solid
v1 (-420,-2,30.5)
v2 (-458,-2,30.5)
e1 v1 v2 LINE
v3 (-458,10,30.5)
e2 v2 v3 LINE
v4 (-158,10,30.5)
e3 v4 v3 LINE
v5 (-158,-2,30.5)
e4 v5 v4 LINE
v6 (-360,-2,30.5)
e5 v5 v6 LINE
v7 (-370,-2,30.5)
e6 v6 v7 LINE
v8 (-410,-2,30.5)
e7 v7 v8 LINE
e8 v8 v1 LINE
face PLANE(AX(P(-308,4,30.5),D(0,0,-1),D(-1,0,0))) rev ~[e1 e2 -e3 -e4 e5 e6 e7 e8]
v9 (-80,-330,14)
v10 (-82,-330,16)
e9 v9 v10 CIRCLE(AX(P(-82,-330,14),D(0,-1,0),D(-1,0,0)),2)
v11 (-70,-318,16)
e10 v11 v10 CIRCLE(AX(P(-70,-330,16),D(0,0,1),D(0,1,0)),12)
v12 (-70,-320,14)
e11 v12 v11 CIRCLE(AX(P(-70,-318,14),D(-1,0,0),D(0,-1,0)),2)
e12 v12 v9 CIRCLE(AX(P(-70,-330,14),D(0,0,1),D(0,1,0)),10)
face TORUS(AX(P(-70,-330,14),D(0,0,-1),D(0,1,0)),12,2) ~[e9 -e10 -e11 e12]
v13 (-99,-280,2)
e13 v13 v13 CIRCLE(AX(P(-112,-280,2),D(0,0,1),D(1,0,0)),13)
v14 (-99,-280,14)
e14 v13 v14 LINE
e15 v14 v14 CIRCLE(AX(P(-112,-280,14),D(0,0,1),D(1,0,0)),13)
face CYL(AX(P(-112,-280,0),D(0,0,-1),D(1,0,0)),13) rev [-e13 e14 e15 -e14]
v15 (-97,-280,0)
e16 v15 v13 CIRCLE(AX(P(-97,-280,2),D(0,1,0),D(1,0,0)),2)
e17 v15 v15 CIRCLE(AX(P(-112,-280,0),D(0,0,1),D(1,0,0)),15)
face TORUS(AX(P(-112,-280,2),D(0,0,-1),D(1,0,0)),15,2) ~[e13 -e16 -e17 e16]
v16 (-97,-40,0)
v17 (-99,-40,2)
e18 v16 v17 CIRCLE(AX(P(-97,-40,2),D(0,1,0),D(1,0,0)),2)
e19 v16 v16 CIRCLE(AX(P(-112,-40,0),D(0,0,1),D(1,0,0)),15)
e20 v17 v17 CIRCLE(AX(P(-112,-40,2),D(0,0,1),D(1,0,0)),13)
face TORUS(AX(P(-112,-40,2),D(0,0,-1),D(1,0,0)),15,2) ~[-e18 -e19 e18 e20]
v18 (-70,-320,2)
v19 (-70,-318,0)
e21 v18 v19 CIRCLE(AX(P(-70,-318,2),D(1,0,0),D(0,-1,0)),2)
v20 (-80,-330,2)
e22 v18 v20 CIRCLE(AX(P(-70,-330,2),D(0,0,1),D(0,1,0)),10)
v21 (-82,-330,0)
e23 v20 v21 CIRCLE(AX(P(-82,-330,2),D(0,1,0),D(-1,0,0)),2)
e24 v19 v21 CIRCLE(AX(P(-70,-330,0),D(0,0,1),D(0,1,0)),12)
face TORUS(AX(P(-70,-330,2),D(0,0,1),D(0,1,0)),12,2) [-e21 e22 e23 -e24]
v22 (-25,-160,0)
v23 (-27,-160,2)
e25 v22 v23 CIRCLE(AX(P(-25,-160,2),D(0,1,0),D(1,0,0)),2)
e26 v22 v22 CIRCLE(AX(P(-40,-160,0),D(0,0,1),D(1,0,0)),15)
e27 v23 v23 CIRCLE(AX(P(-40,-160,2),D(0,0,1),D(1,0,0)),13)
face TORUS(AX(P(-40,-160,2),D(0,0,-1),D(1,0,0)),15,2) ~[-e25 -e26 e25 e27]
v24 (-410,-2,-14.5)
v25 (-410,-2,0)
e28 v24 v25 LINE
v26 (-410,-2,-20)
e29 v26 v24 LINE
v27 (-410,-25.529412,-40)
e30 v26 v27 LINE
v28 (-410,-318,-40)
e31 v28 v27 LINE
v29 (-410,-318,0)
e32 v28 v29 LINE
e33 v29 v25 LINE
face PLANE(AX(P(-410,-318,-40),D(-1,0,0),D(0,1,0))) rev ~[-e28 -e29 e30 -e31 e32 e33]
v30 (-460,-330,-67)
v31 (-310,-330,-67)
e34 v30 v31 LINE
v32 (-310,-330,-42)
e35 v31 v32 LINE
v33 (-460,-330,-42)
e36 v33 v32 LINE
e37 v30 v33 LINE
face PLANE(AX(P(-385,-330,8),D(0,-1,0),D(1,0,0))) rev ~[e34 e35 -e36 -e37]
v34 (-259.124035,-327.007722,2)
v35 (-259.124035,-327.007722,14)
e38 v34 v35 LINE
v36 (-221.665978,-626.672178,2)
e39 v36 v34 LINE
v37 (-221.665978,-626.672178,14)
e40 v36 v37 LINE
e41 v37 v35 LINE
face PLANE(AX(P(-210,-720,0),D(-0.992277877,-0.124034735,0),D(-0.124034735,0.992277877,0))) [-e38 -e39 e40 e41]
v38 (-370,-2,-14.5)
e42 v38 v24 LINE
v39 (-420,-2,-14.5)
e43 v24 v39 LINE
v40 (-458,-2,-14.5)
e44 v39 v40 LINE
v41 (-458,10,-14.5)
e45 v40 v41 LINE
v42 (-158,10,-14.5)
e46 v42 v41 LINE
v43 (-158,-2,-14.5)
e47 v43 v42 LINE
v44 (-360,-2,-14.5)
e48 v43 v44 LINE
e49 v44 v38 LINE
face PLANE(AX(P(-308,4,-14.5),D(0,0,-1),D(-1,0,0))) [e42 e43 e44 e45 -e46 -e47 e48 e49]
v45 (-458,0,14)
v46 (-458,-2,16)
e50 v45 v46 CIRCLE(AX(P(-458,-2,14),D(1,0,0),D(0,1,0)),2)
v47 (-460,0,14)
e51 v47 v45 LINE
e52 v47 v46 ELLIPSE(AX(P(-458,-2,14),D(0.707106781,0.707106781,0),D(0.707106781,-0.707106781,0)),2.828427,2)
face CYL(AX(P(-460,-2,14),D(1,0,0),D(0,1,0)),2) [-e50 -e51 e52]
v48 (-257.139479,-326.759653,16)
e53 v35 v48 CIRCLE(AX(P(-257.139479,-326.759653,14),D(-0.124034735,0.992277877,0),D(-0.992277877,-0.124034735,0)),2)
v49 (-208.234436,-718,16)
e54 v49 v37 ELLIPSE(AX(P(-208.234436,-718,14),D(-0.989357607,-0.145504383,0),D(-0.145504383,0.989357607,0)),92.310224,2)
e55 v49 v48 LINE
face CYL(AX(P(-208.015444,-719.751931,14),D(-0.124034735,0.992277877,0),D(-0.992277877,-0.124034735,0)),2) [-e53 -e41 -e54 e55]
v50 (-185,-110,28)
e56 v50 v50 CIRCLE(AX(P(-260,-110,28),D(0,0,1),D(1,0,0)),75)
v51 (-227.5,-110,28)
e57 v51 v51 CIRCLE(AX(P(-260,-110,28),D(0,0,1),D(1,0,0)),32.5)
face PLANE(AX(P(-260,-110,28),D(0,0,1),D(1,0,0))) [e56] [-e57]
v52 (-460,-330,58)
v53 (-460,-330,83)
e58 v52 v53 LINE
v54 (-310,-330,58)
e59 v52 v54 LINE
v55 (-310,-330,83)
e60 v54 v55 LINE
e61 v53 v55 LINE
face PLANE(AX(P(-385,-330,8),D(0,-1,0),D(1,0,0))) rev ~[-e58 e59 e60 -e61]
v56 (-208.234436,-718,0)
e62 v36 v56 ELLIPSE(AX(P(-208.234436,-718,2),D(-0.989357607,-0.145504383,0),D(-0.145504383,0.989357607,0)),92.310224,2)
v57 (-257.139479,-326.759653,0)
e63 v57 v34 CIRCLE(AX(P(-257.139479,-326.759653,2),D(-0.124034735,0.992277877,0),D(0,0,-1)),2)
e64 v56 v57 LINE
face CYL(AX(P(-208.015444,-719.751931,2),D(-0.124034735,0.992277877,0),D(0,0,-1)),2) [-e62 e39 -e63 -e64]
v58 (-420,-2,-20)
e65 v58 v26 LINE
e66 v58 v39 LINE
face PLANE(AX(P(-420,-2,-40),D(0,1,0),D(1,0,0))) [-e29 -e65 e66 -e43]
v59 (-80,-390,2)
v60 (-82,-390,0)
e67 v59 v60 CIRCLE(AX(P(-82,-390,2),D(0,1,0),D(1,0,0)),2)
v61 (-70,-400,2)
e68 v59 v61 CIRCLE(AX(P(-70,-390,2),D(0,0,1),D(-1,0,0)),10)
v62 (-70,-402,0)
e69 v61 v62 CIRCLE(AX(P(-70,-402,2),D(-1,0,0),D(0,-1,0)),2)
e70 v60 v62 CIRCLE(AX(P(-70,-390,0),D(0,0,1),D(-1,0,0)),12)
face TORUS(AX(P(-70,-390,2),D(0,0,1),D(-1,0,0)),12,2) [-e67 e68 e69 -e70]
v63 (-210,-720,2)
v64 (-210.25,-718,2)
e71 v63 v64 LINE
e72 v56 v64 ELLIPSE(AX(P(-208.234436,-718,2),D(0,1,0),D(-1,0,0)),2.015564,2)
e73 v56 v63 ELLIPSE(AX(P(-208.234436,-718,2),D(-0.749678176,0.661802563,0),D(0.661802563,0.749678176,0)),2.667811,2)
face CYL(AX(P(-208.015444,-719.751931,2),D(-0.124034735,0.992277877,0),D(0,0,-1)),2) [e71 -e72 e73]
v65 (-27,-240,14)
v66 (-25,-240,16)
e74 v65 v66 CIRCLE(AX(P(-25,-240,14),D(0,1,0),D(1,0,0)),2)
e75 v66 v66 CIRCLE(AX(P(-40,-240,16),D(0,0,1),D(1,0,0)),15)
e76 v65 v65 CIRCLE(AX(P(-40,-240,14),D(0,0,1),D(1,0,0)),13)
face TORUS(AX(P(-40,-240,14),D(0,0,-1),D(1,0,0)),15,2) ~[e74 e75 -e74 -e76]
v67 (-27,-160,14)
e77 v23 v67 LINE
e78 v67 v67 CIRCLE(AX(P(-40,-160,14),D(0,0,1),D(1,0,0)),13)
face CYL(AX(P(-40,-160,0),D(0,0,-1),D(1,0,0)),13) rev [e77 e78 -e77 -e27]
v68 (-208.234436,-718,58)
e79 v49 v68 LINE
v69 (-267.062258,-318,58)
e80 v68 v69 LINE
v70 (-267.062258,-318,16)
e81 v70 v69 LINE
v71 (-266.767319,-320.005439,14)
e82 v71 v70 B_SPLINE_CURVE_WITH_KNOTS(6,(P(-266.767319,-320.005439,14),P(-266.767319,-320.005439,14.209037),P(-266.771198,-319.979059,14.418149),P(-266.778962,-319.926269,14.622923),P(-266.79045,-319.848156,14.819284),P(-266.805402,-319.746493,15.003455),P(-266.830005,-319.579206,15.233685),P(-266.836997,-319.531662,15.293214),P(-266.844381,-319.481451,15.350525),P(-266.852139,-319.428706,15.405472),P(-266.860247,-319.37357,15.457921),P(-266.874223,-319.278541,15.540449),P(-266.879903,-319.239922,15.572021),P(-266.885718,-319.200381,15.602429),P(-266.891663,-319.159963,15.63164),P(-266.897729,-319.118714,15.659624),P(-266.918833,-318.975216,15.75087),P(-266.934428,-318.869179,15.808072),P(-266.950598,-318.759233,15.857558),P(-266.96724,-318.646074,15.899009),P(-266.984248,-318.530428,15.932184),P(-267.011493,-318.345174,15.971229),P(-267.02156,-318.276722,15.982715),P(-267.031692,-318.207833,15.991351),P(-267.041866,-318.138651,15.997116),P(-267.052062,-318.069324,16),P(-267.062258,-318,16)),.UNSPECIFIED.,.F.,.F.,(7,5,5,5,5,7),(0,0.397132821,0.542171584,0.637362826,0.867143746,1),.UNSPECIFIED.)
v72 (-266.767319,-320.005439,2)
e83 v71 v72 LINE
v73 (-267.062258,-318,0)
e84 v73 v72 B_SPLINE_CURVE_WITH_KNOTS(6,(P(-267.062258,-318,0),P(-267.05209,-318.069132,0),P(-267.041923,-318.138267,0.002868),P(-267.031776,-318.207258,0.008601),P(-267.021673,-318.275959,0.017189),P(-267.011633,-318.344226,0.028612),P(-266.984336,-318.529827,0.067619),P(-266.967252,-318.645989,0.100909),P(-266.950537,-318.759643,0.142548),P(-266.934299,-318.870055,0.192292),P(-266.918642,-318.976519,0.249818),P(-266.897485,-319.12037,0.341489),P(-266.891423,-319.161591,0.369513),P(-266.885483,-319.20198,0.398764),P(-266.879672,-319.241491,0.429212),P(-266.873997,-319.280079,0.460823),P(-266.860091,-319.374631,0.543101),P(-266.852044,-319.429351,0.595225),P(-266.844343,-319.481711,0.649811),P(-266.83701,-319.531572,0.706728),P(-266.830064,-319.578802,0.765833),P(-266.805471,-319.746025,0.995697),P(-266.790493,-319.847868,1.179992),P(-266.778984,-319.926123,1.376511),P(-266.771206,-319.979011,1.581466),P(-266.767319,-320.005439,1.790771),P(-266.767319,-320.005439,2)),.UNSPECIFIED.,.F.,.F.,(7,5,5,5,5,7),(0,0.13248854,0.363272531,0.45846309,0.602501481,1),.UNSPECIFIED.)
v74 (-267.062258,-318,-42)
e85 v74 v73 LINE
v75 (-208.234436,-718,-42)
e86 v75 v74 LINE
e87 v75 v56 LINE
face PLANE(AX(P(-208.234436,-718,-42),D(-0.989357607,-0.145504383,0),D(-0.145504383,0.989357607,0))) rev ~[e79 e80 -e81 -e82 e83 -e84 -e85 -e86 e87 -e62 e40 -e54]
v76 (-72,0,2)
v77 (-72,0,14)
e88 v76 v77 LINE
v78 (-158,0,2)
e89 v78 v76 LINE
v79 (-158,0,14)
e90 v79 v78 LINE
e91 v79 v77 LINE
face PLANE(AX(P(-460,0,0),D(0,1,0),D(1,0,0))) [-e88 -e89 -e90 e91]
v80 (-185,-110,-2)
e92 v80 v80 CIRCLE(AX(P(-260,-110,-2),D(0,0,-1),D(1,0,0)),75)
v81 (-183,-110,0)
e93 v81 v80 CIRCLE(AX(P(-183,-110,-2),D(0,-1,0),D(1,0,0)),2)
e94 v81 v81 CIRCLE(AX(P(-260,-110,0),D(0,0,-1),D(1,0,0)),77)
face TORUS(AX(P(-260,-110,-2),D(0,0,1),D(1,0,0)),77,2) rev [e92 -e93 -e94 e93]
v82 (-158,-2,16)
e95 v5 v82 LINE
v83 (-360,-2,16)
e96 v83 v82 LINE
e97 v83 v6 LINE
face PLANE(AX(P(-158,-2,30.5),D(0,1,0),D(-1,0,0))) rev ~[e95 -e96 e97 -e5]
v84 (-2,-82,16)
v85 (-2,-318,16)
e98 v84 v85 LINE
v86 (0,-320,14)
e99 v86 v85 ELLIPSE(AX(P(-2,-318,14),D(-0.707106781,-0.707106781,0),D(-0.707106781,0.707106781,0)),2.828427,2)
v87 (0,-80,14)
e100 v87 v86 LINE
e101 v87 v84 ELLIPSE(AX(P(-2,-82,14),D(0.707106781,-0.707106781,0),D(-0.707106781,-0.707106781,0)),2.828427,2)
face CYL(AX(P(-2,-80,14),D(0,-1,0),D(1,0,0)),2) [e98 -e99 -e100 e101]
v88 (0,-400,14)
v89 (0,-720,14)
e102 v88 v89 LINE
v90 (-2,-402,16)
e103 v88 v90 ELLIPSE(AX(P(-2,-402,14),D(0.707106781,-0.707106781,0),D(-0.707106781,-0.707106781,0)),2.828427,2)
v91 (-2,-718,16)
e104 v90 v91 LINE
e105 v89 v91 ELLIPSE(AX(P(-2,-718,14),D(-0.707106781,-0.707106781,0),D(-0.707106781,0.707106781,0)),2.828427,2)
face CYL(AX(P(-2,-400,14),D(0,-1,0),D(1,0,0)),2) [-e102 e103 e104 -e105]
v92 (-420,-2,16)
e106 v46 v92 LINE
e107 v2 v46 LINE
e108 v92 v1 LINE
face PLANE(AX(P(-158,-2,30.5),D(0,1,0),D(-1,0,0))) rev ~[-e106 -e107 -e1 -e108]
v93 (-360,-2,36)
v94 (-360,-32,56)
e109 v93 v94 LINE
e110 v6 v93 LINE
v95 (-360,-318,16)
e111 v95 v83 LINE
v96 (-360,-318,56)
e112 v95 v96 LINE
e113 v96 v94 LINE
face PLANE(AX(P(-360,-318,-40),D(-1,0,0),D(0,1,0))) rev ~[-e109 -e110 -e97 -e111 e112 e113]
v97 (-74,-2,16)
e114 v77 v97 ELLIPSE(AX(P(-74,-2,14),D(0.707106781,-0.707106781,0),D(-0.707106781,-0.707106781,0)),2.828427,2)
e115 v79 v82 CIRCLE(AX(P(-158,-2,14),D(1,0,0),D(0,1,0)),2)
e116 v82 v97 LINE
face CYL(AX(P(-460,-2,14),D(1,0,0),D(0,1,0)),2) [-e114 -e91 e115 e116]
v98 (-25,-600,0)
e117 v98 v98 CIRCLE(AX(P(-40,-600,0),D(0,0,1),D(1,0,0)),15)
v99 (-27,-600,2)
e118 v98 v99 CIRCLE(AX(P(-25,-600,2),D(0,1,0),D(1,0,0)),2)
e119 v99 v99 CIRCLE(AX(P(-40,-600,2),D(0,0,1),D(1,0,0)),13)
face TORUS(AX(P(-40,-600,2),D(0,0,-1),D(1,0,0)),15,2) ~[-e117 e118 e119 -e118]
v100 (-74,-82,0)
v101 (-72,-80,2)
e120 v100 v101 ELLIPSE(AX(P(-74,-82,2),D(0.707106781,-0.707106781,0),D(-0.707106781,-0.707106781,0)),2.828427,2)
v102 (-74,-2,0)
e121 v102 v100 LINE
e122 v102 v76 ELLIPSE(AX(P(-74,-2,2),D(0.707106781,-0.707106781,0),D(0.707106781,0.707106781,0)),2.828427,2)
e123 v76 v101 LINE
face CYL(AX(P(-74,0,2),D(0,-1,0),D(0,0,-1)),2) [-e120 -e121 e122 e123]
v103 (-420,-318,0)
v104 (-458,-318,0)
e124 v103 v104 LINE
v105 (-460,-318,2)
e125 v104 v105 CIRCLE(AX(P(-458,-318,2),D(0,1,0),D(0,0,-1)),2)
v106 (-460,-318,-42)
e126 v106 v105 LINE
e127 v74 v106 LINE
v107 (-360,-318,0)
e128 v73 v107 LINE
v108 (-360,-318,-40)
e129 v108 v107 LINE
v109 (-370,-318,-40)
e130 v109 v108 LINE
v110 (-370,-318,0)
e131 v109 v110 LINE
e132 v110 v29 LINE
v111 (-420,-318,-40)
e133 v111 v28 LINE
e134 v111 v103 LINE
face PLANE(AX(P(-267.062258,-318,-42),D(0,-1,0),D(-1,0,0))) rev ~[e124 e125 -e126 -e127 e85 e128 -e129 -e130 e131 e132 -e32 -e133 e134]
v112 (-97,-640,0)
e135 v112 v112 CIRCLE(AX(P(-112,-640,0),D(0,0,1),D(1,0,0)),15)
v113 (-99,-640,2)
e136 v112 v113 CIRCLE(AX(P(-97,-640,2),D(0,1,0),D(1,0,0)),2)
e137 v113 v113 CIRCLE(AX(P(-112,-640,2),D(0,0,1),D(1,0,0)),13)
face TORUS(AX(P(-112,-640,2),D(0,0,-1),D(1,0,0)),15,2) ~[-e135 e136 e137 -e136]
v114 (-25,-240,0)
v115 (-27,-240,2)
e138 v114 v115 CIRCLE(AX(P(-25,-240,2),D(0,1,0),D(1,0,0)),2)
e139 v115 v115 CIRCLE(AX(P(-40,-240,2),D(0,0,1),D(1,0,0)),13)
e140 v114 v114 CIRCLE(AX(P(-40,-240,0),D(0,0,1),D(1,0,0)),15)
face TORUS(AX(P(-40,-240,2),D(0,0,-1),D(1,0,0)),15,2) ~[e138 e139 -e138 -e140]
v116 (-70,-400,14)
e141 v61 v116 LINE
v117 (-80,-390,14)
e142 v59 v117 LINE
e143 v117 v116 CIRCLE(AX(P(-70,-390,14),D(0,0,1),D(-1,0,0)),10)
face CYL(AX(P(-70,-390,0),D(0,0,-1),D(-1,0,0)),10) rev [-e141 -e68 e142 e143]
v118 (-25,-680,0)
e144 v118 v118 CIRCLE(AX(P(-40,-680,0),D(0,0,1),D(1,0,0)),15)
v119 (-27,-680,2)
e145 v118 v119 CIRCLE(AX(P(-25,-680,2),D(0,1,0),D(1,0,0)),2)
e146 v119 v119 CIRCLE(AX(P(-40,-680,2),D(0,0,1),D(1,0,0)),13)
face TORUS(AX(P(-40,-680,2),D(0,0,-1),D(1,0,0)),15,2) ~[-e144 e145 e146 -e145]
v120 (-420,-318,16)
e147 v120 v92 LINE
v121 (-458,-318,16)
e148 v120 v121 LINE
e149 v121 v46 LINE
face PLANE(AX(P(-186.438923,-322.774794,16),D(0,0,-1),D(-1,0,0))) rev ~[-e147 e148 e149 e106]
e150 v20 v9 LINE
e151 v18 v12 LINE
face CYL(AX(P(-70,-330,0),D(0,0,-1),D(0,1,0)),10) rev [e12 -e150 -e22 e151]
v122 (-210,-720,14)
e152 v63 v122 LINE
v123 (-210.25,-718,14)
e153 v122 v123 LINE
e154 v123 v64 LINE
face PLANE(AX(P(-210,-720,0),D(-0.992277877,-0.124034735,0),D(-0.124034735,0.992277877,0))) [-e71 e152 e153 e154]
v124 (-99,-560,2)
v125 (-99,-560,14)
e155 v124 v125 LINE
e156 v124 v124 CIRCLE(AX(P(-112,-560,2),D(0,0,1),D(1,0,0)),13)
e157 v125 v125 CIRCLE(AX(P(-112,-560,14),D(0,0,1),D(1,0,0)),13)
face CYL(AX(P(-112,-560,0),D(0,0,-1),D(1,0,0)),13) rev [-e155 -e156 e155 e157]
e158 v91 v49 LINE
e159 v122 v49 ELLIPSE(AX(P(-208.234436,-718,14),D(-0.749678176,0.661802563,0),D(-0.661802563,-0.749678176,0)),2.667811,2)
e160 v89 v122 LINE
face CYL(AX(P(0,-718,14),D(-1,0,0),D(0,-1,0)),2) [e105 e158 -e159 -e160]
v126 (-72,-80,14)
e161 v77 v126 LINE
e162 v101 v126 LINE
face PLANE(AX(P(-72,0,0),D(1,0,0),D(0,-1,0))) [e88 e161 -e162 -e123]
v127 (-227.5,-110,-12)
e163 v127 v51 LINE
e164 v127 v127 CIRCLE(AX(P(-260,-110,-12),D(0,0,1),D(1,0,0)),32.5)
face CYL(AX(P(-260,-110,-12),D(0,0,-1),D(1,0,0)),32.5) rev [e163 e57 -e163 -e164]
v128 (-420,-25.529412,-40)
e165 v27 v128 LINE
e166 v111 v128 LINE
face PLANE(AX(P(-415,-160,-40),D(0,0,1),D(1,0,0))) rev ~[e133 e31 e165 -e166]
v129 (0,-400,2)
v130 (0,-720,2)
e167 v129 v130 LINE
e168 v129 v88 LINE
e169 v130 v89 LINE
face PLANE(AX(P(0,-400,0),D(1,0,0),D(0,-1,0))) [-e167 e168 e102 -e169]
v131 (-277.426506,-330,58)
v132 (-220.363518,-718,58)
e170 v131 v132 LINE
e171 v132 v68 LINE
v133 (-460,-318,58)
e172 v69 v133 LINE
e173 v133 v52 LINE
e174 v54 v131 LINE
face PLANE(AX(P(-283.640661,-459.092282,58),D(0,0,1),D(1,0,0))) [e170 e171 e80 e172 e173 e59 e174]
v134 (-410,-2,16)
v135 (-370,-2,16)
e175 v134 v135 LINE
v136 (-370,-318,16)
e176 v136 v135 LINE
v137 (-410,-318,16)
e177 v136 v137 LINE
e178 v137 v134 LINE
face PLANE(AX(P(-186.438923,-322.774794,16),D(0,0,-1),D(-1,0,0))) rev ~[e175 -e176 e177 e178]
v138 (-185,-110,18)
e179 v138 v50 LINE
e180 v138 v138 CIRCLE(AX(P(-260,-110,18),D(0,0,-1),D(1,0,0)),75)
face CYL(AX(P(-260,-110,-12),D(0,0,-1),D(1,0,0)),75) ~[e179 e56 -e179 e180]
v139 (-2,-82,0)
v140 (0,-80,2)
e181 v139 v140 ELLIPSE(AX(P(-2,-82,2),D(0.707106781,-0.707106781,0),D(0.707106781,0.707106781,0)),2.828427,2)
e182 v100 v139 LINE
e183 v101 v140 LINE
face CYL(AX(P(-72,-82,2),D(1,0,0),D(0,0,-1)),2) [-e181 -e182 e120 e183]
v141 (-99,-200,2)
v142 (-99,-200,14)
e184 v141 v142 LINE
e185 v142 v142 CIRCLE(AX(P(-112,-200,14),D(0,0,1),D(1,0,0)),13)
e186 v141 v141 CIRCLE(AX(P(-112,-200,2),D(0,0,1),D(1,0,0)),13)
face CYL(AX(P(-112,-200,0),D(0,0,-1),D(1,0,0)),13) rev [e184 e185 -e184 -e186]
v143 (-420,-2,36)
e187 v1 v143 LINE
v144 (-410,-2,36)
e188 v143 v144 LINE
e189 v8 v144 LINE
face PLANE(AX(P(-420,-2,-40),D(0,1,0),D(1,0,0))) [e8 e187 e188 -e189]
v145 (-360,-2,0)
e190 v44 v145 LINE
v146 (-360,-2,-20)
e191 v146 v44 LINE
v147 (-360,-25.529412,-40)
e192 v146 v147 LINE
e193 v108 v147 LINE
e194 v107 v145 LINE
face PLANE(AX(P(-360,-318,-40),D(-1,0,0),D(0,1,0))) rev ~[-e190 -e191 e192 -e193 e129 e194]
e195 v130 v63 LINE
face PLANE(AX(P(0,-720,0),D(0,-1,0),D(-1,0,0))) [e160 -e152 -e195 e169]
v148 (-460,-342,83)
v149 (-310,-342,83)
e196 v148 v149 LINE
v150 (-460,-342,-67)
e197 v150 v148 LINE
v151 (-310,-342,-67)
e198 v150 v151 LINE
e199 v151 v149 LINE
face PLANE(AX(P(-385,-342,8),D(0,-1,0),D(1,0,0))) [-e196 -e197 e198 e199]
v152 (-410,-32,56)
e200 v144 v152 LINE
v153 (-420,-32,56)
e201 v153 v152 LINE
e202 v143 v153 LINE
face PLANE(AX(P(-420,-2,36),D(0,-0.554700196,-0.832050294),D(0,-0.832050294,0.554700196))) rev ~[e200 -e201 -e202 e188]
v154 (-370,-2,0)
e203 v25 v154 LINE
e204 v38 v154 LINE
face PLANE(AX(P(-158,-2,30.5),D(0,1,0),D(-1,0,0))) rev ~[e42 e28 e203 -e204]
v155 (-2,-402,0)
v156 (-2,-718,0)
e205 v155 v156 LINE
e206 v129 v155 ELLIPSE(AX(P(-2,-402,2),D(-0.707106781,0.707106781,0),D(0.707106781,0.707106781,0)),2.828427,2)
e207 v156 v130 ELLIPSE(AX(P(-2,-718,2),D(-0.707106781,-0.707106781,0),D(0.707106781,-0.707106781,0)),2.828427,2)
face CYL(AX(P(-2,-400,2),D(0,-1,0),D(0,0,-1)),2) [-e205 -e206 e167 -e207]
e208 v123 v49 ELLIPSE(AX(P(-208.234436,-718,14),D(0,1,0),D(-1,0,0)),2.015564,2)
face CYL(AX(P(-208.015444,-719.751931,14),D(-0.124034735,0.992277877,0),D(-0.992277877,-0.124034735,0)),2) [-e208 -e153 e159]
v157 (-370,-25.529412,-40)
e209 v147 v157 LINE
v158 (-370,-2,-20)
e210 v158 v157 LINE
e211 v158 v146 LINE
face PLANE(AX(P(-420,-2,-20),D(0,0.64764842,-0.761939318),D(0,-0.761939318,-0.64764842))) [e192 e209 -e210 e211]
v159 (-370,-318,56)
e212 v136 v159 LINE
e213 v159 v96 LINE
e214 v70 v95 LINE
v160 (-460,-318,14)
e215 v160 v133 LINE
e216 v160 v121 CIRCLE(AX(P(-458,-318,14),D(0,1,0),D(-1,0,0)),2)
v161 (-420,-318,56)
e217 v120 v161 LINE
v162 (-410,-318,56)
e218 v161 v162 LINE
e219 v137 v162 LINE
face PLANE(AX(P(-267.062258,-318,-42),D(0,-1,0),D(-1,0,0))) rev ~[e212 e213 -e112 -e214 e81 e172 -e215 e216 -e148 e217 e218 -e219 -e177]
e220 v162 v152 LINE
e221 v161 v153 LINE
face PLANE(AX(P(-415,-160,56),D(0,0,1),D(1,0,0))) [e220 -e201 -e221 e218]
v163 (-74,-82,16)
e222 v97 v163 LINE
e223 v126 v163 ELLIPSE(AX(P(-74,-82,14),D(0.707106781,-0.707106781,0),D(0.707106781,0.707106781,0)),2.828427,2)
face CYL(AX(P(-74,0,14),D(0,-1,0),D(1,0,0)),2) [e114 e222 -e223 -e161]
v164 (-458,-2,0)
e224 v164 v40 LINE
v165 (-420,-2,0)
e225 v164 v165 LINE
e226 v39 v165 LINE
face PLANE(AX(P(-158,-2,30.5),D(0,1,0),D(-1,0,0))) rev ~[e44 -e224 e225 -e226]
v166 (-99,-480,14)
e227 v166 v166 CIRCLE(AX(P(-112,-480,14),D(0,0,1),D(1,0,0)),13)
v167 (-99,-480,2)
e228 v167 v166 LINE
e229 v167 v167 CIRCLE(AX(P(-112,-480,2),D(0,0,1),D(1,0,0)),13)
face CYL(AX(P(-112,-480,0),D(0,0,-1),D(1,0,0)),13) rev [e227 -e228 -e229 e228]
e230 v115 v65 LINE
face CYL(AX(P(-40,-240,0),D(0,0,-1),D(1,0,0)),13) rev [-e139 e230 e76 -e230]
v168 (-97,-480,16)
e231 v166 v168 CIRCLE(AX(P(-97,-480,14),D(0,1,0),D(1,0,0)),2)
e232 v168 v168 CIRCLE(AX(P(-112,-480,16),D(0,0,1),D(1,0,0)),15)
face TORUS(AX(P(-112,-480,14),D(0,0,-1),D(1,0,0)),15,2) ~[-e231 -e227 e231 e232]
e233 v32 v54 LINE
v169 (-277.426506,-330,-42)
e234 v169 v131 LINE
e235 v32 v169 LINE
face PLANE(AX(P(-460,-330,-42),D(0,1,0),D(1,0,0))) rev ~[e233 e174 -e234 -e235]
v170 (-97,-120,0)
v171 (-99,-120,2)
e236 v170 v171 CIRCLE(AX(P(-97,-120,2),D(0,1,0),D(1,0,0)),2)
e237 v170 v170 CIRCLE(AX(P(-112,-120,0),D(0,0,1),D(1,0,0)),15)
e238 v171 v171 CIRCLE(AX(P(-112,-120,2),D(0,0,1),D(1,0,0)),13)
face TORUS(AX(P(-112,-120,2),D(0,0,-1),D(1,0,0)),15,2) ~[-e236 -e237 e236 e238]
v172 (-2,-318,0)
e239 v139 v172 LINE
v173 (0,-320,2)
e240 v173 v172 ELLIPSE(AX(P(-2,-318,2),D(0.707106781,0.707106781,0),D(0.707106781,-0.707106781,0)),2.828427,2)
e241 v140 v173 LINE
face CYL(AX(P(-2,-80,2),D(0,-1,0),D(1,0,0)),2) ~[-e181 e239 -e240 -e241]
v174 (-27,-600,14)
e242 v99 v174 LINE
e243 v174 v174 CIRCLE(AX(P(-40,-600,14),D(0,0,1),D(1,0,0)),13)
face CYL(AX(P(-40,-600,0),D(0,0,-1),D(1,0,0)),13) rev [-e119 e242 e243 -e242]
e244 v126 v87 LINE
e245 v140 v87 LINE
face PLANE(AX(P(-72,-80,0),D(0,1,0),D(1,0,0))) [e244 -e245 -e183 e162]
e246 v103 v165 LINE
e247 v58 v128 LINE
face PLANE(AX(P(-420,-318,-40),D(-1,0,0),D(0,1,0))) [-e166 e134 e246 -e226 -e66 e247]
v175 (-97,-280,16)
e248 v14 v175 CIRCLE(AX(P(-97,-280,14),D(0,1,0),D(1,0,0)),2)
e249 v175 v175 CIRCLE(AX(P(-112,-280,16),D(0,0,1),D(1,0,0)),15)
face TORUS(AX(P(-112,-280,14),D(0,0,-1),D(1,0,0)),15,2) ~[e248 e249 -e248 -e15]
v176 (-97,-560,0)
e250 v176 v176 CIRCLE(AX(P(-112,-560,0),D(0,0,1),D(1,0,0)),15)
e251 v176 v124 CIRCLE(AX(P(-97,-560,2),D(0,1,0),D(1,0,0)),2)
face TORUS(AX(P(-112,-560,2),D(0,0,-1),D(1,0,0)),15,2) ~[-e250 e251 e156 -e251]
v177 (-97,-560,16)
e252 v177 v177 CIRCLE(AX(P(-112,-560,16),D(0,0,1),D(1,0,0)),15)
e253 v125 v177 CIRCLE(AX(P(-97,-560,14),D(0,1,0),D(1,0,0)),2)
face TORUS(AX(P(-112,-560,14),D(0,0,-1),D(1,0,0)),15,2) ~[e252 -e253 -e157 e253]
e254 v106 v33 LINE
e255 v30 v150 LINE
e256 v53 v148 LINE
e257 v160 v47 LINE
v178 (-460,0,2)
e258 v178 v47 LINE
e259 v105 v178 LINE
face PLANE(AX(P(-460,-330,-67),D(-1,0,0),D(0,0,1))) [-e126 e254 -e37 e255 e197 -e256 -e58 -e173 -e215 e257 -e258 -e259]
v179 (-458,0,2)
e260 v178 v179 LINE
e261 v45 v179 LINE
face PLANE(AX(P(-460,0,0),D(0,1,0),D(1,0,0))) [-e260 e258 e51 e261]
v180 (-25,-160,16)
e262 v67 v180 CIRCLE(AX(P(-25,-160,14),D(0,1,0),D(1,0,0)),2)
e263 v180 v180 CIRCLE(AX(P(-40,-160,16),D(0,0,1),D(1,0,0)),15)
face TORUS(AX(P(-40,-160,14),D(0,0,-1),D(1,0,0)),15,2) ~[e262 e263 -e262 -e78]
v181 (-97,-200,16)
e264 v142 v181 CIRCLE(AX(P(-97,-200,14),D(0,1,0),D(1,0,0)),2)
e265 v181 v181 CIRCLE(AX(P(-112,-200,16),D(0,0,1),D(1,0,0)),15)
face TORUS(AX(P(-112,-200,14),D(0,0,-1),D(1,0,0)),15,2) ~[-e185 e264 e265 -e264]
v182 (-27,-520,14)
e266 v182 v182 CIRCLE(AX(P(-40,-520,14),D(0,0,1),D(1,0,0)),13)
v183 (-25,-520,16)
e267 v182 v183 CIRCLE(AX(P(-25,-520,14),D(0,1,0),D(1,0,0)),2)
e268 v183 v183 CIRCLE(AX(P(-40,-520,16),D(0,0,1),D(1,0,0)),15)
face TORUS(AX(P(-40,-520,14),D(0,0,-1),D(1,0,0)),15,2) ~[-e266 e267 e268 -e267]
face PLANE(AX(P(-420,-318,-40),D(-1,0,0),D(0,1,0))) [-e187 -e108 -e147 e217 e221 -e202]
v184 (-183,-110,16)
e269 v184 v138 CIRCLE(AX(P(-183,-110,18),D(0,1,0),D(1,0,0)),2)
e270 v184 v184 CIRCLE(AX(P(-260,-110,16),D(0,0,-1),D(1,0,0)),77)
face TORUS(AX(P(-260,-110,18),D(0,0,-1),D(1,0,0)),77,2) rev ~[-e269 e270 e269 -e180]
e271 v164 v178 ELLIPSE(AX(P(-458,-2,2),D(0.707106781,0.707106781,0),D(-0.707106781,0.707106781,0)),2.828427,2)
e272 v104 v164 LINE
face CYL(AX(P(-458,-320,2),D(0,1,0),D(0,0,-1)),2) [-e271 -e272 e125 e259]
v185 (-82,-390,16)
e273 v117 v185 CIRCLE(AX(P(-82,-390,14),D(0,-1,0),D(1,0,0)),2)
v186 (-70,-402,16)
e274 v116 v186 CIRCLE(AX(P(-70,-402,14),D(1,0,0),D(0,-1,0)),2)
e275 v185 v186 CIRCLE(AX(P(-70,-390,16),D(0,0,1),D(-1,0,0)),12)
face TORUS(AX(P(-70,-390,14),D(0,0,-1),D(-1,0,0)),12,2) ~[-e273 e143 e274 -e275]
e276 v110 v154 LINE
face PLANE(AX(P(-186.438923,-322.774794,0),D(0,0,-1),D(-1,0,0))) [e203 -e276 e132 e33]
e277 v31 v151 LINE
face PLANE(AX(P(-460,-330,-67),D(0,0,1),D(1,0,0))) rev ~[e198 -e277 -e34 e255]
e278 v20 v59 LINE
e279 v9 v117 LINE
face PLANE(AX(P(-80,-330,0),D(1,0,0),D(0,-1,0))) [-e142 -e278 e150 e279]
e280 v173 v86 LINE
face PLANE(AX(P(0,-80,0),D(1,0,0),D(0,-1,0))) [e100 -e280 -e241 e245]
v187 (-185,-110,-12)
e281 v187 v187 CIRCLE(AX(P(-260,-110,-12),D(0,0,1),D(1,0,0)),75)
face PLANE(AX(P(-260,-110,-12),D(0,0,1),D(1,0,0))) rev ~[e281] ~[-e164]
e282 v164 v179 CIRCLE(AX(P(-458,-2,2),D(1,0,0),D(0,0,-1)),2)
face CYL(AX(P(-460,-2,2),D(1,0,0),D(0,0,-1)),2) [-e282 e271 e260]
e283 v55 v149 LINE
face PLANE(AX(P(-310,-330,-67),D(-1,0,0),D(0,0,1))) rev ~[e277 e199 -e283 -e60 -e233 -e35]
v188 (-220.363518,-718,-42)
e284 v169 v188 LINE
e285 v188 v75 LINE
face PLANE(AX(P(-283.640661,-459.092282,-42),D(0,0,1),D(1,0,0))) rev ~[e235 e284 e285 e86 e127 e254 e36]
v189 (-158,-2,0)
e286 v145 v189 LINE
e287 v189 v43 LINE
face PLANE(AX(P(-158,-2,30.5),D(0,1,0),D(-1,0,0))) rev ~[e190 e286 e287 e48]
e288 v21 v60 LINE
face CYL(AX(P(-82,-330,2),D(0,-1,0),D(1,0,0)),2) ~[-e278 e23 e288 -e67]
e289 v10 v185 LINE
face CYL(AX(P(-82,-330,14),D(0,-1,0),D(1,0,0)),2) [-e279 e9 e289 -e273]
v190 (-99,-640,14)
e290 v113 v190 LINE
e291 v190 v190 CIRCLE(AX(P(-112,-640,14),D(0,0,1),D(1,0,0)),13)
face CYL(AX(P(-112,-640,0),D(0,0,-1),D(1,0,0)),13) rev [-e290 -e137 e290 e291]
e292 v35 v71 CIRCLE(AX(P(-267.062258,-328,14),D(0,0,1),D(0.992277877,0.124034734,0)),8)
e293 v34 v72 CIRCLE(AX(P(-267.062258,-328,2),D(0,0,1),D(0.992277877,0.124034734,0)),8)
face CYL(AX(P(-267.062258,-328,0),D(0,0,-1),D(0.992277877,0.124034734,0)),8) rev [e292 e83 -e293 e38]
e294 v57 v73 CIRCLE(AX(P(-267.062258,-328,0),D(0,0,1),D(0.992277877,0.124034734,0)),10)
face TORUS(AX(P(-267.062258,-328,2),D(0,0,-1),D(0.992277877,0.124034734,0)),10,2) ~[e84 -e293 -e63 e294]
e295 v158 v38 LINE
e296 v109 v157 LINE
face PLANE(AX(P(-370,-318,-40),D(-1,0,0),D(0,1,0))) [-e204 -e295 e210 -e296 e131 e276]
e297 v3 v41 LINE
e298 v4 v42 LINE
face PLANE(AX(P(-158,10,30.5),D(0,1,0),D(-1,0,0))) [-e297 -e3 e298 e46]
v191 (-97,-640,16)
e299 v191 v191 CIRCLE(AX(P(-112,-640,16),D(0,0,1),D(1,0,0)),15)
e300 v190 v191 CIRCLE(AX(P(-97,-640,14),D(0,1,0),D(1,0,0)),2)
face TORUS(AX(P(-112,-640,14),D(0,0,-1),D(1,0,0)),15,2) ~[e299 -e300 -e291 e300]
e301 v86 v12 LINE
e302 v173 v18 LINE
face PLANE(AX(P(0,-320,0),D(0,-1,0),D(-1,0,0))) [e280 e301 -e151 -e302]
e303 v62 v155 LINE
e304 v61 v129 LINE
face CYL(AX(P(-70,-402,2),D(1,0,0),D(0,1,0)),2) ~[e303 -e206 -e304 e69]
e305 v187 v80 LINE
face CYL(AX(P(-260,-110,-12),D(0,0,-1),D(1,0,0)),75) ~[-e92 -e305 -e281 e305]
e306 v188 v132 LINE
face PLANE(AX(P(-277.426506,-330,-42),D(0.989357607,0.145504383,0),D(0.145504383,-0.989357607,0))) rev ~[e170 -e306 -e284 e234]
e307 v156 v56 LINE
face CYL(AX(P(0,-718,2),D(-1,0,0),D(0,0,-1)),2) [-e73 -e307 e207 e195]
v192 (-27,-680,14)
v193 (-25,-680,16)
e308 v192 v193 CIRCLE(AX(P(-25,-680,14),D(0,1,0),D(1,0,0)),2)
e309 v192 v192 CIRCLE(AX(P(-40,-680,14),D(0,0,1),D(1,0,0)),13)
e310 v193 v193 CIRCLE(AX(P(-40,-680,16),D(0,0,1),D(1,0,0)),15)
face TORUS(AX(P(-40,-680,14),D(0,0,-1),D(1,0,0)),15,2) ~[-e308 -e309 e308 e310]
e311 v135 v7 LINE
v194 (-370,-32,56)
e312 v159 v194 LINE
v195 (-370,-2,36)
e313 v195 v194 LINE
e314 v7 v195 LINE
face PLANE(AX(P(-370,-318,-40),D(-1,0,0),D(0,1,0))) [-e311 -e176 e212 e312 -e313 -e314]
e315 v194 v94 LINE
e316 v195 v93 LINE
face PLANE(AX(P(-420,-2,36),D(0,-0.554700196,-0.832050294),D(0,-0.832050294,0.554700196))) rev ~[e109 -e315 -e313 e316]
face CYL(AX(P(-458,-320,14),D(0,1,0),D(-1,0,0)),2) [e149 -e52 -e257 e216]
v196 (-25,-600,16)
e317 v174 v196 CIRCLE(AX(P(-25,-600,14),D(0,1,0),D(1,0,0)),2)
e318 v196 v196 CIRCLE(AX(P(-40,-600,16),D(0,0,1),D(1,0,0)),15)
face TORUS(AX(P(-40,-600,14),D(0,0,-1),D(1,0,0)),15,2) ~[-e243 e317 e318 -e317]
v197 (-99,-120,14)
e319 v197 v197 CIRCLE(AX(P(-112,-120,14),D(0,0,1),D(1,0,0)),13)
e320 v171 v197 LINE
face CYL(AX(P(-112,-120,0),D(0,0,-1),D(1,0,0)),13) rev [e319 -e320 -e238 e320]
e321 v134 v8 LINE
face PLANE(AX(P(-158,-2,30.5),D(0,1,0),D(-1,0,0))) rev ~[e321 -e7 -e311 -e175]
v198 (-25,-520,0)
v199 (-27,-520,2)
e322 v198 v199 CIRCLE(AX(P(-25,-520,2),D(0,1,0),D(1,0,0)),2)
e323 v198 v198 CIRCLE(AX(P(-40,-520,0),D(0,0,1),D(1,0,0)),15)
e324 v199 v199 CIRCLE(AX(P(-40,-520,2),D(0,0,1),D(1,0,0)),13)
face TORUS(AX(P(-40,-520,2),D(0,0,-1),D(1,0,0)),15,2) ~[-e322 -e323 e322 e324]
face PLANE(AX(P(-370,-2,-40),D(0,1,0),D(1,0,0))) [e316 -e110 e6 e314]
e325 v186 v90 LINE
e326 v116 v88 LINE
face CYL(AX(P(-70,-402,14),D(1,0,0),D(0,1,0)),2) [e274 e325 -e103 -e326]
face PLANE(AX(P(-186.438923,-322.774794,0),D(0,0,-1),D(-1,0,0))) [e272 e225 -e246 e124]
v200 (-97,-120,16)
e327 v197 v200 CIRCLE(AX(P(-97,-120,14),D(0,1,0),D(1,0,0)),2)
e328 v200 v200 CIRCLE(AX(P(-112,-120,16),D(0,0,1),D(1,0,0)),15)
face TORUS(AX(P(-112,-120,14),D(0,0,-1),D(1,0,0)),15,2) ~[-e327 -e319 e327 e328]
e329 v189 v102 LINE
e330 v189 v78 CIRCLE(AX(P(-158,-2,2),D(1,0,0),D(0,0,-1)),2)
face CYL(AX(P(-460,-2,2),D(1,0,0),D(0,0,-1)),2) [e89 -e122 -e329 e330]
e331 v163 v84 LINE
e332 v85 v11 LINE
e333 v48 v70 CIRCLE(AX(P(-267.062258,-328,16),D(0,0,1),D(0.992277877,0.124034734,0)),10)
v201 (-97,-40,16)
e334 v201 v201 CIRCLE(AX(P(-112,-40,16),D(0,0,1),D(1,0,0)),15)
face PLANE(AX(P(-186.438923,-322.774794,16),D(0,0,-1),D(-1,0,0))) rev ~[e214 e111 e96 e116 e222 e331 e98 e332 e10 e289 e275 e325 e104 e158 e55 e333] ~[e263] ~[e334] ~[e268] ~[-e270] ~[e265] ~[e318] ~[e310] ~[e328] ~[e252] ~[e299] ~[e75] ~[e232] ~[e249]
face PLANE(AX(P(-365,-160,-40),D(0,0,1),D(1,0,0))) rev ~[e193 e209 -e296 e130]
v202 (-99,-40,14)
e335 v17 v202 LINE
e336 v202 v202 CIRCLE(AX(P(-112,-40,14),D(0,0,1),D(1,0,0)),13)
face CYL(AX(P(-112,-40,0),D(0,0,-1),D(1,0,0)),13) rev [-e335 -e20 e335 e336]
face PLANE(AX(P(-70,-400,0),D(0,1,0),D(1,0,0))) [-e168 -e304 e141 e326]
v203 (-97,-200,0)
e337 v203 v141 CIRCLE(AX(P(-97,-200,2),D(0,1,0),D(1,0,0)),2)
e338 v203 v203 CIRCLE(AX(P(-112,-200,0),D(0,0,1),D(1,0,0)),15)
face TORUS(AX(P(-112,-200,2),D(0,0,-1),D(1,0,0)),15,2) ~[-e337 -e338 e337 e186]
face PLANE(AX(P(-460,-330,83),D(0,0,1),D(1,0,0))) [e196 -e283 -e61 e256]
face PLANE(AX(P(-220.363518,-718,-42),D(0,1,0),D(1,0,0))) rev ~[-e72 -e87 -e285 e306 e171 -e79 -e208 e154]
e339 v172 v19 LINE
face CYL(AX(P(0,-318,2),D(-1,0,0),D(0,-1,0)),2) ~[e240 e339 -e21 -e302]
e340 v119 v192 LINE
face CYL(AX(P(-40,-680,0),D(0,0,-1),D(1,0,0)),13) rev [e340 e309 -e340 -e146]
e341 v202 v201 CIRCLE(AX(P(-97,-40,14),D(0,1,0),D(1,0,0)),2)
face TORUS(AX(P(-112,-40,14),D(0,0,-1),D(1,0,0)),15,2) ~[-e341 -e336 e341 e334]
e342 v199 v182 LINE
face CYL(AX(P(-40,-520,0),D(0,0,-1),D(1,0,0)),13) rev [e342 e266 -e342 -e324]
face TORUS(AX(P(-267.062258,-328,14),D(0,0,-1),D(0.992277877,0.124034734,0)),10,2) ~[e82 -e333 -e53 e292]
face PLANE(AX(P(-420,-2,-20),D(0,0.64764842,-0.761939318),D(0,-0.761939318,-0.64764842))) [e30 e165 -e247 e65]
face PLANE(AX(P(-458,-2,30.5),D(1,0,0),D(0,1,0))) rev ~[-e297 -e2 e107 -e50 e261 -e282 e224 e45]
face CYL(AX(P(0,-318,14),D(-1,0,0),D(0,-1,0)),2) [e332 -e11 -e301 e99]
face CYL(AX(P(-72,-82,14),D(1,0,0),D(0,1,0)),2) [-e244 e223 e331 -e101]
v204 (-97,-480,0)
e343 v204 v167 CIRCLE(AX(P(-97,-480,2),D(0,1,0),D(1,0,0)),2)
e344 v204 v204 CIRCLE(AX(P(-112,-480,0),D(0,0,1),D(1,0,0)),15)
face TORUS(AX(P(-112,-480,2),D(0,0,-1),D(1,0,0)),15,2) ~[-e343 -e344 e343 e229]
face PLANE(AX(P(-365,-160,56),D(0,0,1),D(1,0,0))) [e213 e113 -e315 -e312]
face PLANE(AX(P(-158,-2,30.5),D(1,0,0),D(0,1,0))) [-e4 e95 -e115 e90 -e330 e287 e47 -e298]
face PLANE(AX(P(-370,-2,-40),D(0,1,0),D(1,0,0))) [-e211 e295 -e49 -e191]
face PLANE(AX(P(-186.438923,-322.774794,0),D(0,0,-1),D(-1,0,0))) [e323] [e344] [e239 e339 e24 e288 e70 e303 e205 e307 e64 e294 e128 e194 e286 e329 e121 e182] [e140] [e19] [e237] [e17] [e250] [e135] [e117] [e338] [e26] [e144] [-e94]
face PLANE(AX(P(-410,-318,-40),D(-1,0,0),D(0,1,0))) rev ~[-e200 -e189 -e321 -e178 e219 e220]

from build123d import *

# Parameters (mm, degrees)
SKETCH_1_R           = 13
SKETCH_1_R_2         = 37.5
EXTRUDE_1404_DEPTH   = 16
EXTRUDE_1_DEPTH      = 12
EXTRUDE_1_DEPTH_BACK = 28
SKETCH_2_R           = 75
SKETCH_2_R_2         = 32.5
FILLET_1_R           = 2
FILLET_2_R           = 2
EXTRUDE_2_DEPTH      = 40
EXTRUDE_2_DEPTH_BACK = 56
SKETCH_3_W           = 10
SKETCH_3_H           = 316
CUT_EXTRUDE_1_DEPTH  = 836.425640018
CUT_EXTRUDE_2_DEPTH  = 836.425640018
EXTRUDE_5_DEPTH      = 42
EXTRUDE_5_DEPTH_BACK = 58
EXTRUDE_6_DEPTH      = 14.5
EXTRUDE_6_DEPTH_BACK = 30.5
SKETCH_7_W           = 300
SKETCH_7_H           = 12
SKETCH_8_W           = 150
SKETCH_8_H           = 150
EXTRUDE_7_DEPTH      = 12


with BuildPart() as part:
    # 草图1 → Extrude 1404 (new body)
    with BuildSketch(Plane.XY):
        with BuildLine():
            Line((0, -320), (-70, -320))
            ThreePointArc((-70, -320), (-77.071067812, -322.928932188), (-80, -330))
            Line((-80, -330), (-80, -390))
            ThreePointArc((-80, -390), (-77.071067812, -397.071067812), (-70, -400))
            Line((-70, -400), (0, -400))
            Line((0, -400), (0, -720))
            Line((0, -720), (-210, -720))
            Line((-210, -720), (-259.124034735, -327.007722123))
            ThreePointArc((-259.124034735, -327.007722123), (-261.767837242, -322.002574593), (-267.062257748, -320))
            Line((-267.062257748, -320), (-460, -320))
            Line((-460, -320), (-460, 0))
            Line((-460, 0), (-72, 0))
            Line((-72, 0), (-72, -80))
            Line((-72, -80), (0, -80))
            Line((0, -80), (0, -320))
        make_face()
        with Locations((-112, -40)):
            Circle(SKETCH_1_R, mode=Mode.SUBTRACT)
        with Locations((-112, -120)):
            Circle(SKETCH_1_R, mode=Mode.SUBTRACT)
        with Locations((-112, -200)):
            Circle(SKETCH_1_R, mode=Mode.SUBTRACT)
        with Locations((-112, -280)):
            Circle(SKETCH_1_R, mode=Mode.SUBTRACT)
        with Locations((-40, -160)):
            Circle(SKETCH_1_R, mode=Mode.SUBTRACT)
        with Locations((-40, -240)):
            Circle(SKETCH_1_R, mode=Mode.SUBTRACT)
        with Locations((-40, -680)):
            Circle(SKETCH_1_R, mode=Mode.SUBTRACT)
        with Locations((-40, -600)):
            Circle(SKETCH_1_R, mode=Mode.SUBTRACT)
        with Locations((-40, -520)):
            Circle(SKETCH_1_R, mode=Mode.SUBTRACT)
        with Locations((-112, -640)):
            Circle(SKETCH_1_R, mode=Mode.SUBTRACT)
        with Locations((-112, -560)):
            Circle(SKETCH_1_R, mode=Mode.SUBTRACT)
        with Locations((-112, -480)):
            Circle(SKETCH_1_R, mode=Mode.SUBTRACT)
        with Locations((-260, -110)):
            Circle(SKETCH_1_R_2, mode=Mode.SUBTRACT)
    extrude(amount=EXTRUDE_1404_DEPTH)

    # 草图2 → 凸台-拉伸1 (add, two sides: drawn at the far end of the back side and taken through both)
    with BuildSketch(Plane.XY.offset(16).offset(-EXTRUDE_1_DEPTH_BACK)):
        with Locations((-260, -110)):
            Circle(SKETCH_2_R)
        with Locations((-260, -110)):
            Circle(SKETCH_2_R_2, mode=Mode.SUBTRACT)
    extrude(amount=EXTRUDE_1_DEPTH + EXTRUDE_1_DEPTH_BACK)

    # 圆角1
    fillet_1_edges = [part.edges().sort_by_distance(p)[0] for p in [
        (-105, -720, 16),
        (0, -560, 16),
        (-35, -400, 16),
        (-77.071067812, -397.071067812, 16),
        (-80, -360, 16),
        (-77.071067812, -322.928932188, 16),
        (-35, -320, 16),
        (0, -200, 16),
        (-36, -80, 16),
        (-125, -40, 16),
        (-72, -40, 16),
        (-261.767837242, -322.002574593, 16),
        (-266, 0, 16),
        (-125, -120, 16),
        (-460, -160, 16),
        (-125, -200, 16),
        (-363.531128874, -320, 16),
        (-125, -280, 16),
        (-53, -160, 16),
        (-53, -240, 16),
        (-53, -680, 16),
        (-53, -600, 16),
        (-53, -520, 16),
        (-234.562017367, -523.503861062, 16),
        (-125, -640, 16),
        (-125, -560, 16),
        (-125, -480, 16),
        (-335, -110, 16),
    ]]
    fillet(fillet_1_edges, radius=FILLET_1_R)

    # 圆角2
    fillet_2_edges = [part.edges().sort_by_distance(p)[0] for p in [
        (-363.531128874, -320, 0),
        (-460, -160, 0),
        (-266, 0, 0),
        (-72, -40, 0),
        (-36, -80, 0),
        (0, -200, 0),
        (-35, -320, 0),
        (-77.071067812, -322.928932188, 0),
        (-80, -360, 0),
        (-77.071067812, -397.071067812, 0),
        (-35, -400, 0),
        (0, -560, 0),
        (-105, -720, 0),
        (-234.562017367, -523.503861062, 0),
        (-261.767837242, -322.002574593, 0),
        (-125, -40, 0),
        (-125, -120, 0),
        (-125, -200, 0),
        (-125, -280, 0),
        (-53, -160, 0),
        (-53, -240, 0),
        (-53, -680, 0),
        (-53, -600, 0),
        (-53, -520, 0),
        (-125, -640, 0),
        (-125, -560, 0),
        (-125, -480, 0),
        (-335, -110, 0),
    ]]
    fillet(fillet_2_edges, radius=FILLET_2_R)

    # 草图3 → 凸台-拉伸2 (add, two sides: drawn at the far end of the back side and taken through both)
    with BuildSketch(Plane.XY.offset(16).offset(-EXTRUDE_2_DEPTH_BACK)):
        with Locations((-415, -160)):
            Rectangle(SKETCH_3_W, SKETCH_3_H)
        with Locations((-365, -160)):
            Rectangle(SKETCH_3_W, SKETCH_3_H)
    extrude(amount=EXTRUDE_2_DEPTH + EXTRUDE_2_DEPTH_BACK)

    # 草图4 → 切除-拉伸1 (cut, through all)
    with BuildSketch(Plane.ZY.offset(420)):
        Polygon((-20, -2), (-45.5, -32), (-45.5, -2), align=None)
    extrude(amount=-CUT_EXTRUDE_1_DEPTH, mode=Mode.SUBTRACT)

    # 草图5 → 切除-拉伸2 (cut, through all)
    with BuildSketch(Plane.ZY.offset(420)):
        Polygon((36, -2), (56, -32), (56, -2), align=None)
    extrude(amount=-CUT_EXTRUDE_2_DEPTH, mode=Mode.SUBTRACT)

    # 草图6 → 凸台-拉伸5 (add, two sides: drawn at the far end of the back side and taken through both)
    with BuildSketch(Plane.XY.offset(16).offset(-EXTRUDE_5_DEPTH_BACK)):
        Polygon((-267.062257748, -318), (-460, -318), (-460, -330), (-277.426505546, -330), (-220.363518026, -718), (-208.234435563, -718), align=None)
    extrude(amount=EXTRUDE_5_DEPTH + EXTRUDE_5_DEPTH_BACK)

    # 草图7 → 凸台-拉伸6 (add, two sides: drawn at the far end of the back side and taken through both)
    with BuildSketch(Plane(origin=(0, 0, 0), x_dir=(-1, 0, 0), z_dir=(0, 0, -1)).offset(-EXTRUDE_6_DEPTH_BACK)):
        with Locations((308, 4)):
            Rectangle(SKETCH_7_W, SKETCH_7_H)
    extrude(amount=EXTRUDE_6_DEPTH + EXTRUDE_6_DEPTH_BACK)

    # 草图8 → 凸台-拉伸7 (add)
    with BuildSketch(Plane.XZ.offset(330)):
        with Locations((-385, 8)):
            Rectangle(SKETCH_8_W, SKETCH_8_H)
    extrude(amount=EXTRUDE_7_DEPTH)


solid = part.part
